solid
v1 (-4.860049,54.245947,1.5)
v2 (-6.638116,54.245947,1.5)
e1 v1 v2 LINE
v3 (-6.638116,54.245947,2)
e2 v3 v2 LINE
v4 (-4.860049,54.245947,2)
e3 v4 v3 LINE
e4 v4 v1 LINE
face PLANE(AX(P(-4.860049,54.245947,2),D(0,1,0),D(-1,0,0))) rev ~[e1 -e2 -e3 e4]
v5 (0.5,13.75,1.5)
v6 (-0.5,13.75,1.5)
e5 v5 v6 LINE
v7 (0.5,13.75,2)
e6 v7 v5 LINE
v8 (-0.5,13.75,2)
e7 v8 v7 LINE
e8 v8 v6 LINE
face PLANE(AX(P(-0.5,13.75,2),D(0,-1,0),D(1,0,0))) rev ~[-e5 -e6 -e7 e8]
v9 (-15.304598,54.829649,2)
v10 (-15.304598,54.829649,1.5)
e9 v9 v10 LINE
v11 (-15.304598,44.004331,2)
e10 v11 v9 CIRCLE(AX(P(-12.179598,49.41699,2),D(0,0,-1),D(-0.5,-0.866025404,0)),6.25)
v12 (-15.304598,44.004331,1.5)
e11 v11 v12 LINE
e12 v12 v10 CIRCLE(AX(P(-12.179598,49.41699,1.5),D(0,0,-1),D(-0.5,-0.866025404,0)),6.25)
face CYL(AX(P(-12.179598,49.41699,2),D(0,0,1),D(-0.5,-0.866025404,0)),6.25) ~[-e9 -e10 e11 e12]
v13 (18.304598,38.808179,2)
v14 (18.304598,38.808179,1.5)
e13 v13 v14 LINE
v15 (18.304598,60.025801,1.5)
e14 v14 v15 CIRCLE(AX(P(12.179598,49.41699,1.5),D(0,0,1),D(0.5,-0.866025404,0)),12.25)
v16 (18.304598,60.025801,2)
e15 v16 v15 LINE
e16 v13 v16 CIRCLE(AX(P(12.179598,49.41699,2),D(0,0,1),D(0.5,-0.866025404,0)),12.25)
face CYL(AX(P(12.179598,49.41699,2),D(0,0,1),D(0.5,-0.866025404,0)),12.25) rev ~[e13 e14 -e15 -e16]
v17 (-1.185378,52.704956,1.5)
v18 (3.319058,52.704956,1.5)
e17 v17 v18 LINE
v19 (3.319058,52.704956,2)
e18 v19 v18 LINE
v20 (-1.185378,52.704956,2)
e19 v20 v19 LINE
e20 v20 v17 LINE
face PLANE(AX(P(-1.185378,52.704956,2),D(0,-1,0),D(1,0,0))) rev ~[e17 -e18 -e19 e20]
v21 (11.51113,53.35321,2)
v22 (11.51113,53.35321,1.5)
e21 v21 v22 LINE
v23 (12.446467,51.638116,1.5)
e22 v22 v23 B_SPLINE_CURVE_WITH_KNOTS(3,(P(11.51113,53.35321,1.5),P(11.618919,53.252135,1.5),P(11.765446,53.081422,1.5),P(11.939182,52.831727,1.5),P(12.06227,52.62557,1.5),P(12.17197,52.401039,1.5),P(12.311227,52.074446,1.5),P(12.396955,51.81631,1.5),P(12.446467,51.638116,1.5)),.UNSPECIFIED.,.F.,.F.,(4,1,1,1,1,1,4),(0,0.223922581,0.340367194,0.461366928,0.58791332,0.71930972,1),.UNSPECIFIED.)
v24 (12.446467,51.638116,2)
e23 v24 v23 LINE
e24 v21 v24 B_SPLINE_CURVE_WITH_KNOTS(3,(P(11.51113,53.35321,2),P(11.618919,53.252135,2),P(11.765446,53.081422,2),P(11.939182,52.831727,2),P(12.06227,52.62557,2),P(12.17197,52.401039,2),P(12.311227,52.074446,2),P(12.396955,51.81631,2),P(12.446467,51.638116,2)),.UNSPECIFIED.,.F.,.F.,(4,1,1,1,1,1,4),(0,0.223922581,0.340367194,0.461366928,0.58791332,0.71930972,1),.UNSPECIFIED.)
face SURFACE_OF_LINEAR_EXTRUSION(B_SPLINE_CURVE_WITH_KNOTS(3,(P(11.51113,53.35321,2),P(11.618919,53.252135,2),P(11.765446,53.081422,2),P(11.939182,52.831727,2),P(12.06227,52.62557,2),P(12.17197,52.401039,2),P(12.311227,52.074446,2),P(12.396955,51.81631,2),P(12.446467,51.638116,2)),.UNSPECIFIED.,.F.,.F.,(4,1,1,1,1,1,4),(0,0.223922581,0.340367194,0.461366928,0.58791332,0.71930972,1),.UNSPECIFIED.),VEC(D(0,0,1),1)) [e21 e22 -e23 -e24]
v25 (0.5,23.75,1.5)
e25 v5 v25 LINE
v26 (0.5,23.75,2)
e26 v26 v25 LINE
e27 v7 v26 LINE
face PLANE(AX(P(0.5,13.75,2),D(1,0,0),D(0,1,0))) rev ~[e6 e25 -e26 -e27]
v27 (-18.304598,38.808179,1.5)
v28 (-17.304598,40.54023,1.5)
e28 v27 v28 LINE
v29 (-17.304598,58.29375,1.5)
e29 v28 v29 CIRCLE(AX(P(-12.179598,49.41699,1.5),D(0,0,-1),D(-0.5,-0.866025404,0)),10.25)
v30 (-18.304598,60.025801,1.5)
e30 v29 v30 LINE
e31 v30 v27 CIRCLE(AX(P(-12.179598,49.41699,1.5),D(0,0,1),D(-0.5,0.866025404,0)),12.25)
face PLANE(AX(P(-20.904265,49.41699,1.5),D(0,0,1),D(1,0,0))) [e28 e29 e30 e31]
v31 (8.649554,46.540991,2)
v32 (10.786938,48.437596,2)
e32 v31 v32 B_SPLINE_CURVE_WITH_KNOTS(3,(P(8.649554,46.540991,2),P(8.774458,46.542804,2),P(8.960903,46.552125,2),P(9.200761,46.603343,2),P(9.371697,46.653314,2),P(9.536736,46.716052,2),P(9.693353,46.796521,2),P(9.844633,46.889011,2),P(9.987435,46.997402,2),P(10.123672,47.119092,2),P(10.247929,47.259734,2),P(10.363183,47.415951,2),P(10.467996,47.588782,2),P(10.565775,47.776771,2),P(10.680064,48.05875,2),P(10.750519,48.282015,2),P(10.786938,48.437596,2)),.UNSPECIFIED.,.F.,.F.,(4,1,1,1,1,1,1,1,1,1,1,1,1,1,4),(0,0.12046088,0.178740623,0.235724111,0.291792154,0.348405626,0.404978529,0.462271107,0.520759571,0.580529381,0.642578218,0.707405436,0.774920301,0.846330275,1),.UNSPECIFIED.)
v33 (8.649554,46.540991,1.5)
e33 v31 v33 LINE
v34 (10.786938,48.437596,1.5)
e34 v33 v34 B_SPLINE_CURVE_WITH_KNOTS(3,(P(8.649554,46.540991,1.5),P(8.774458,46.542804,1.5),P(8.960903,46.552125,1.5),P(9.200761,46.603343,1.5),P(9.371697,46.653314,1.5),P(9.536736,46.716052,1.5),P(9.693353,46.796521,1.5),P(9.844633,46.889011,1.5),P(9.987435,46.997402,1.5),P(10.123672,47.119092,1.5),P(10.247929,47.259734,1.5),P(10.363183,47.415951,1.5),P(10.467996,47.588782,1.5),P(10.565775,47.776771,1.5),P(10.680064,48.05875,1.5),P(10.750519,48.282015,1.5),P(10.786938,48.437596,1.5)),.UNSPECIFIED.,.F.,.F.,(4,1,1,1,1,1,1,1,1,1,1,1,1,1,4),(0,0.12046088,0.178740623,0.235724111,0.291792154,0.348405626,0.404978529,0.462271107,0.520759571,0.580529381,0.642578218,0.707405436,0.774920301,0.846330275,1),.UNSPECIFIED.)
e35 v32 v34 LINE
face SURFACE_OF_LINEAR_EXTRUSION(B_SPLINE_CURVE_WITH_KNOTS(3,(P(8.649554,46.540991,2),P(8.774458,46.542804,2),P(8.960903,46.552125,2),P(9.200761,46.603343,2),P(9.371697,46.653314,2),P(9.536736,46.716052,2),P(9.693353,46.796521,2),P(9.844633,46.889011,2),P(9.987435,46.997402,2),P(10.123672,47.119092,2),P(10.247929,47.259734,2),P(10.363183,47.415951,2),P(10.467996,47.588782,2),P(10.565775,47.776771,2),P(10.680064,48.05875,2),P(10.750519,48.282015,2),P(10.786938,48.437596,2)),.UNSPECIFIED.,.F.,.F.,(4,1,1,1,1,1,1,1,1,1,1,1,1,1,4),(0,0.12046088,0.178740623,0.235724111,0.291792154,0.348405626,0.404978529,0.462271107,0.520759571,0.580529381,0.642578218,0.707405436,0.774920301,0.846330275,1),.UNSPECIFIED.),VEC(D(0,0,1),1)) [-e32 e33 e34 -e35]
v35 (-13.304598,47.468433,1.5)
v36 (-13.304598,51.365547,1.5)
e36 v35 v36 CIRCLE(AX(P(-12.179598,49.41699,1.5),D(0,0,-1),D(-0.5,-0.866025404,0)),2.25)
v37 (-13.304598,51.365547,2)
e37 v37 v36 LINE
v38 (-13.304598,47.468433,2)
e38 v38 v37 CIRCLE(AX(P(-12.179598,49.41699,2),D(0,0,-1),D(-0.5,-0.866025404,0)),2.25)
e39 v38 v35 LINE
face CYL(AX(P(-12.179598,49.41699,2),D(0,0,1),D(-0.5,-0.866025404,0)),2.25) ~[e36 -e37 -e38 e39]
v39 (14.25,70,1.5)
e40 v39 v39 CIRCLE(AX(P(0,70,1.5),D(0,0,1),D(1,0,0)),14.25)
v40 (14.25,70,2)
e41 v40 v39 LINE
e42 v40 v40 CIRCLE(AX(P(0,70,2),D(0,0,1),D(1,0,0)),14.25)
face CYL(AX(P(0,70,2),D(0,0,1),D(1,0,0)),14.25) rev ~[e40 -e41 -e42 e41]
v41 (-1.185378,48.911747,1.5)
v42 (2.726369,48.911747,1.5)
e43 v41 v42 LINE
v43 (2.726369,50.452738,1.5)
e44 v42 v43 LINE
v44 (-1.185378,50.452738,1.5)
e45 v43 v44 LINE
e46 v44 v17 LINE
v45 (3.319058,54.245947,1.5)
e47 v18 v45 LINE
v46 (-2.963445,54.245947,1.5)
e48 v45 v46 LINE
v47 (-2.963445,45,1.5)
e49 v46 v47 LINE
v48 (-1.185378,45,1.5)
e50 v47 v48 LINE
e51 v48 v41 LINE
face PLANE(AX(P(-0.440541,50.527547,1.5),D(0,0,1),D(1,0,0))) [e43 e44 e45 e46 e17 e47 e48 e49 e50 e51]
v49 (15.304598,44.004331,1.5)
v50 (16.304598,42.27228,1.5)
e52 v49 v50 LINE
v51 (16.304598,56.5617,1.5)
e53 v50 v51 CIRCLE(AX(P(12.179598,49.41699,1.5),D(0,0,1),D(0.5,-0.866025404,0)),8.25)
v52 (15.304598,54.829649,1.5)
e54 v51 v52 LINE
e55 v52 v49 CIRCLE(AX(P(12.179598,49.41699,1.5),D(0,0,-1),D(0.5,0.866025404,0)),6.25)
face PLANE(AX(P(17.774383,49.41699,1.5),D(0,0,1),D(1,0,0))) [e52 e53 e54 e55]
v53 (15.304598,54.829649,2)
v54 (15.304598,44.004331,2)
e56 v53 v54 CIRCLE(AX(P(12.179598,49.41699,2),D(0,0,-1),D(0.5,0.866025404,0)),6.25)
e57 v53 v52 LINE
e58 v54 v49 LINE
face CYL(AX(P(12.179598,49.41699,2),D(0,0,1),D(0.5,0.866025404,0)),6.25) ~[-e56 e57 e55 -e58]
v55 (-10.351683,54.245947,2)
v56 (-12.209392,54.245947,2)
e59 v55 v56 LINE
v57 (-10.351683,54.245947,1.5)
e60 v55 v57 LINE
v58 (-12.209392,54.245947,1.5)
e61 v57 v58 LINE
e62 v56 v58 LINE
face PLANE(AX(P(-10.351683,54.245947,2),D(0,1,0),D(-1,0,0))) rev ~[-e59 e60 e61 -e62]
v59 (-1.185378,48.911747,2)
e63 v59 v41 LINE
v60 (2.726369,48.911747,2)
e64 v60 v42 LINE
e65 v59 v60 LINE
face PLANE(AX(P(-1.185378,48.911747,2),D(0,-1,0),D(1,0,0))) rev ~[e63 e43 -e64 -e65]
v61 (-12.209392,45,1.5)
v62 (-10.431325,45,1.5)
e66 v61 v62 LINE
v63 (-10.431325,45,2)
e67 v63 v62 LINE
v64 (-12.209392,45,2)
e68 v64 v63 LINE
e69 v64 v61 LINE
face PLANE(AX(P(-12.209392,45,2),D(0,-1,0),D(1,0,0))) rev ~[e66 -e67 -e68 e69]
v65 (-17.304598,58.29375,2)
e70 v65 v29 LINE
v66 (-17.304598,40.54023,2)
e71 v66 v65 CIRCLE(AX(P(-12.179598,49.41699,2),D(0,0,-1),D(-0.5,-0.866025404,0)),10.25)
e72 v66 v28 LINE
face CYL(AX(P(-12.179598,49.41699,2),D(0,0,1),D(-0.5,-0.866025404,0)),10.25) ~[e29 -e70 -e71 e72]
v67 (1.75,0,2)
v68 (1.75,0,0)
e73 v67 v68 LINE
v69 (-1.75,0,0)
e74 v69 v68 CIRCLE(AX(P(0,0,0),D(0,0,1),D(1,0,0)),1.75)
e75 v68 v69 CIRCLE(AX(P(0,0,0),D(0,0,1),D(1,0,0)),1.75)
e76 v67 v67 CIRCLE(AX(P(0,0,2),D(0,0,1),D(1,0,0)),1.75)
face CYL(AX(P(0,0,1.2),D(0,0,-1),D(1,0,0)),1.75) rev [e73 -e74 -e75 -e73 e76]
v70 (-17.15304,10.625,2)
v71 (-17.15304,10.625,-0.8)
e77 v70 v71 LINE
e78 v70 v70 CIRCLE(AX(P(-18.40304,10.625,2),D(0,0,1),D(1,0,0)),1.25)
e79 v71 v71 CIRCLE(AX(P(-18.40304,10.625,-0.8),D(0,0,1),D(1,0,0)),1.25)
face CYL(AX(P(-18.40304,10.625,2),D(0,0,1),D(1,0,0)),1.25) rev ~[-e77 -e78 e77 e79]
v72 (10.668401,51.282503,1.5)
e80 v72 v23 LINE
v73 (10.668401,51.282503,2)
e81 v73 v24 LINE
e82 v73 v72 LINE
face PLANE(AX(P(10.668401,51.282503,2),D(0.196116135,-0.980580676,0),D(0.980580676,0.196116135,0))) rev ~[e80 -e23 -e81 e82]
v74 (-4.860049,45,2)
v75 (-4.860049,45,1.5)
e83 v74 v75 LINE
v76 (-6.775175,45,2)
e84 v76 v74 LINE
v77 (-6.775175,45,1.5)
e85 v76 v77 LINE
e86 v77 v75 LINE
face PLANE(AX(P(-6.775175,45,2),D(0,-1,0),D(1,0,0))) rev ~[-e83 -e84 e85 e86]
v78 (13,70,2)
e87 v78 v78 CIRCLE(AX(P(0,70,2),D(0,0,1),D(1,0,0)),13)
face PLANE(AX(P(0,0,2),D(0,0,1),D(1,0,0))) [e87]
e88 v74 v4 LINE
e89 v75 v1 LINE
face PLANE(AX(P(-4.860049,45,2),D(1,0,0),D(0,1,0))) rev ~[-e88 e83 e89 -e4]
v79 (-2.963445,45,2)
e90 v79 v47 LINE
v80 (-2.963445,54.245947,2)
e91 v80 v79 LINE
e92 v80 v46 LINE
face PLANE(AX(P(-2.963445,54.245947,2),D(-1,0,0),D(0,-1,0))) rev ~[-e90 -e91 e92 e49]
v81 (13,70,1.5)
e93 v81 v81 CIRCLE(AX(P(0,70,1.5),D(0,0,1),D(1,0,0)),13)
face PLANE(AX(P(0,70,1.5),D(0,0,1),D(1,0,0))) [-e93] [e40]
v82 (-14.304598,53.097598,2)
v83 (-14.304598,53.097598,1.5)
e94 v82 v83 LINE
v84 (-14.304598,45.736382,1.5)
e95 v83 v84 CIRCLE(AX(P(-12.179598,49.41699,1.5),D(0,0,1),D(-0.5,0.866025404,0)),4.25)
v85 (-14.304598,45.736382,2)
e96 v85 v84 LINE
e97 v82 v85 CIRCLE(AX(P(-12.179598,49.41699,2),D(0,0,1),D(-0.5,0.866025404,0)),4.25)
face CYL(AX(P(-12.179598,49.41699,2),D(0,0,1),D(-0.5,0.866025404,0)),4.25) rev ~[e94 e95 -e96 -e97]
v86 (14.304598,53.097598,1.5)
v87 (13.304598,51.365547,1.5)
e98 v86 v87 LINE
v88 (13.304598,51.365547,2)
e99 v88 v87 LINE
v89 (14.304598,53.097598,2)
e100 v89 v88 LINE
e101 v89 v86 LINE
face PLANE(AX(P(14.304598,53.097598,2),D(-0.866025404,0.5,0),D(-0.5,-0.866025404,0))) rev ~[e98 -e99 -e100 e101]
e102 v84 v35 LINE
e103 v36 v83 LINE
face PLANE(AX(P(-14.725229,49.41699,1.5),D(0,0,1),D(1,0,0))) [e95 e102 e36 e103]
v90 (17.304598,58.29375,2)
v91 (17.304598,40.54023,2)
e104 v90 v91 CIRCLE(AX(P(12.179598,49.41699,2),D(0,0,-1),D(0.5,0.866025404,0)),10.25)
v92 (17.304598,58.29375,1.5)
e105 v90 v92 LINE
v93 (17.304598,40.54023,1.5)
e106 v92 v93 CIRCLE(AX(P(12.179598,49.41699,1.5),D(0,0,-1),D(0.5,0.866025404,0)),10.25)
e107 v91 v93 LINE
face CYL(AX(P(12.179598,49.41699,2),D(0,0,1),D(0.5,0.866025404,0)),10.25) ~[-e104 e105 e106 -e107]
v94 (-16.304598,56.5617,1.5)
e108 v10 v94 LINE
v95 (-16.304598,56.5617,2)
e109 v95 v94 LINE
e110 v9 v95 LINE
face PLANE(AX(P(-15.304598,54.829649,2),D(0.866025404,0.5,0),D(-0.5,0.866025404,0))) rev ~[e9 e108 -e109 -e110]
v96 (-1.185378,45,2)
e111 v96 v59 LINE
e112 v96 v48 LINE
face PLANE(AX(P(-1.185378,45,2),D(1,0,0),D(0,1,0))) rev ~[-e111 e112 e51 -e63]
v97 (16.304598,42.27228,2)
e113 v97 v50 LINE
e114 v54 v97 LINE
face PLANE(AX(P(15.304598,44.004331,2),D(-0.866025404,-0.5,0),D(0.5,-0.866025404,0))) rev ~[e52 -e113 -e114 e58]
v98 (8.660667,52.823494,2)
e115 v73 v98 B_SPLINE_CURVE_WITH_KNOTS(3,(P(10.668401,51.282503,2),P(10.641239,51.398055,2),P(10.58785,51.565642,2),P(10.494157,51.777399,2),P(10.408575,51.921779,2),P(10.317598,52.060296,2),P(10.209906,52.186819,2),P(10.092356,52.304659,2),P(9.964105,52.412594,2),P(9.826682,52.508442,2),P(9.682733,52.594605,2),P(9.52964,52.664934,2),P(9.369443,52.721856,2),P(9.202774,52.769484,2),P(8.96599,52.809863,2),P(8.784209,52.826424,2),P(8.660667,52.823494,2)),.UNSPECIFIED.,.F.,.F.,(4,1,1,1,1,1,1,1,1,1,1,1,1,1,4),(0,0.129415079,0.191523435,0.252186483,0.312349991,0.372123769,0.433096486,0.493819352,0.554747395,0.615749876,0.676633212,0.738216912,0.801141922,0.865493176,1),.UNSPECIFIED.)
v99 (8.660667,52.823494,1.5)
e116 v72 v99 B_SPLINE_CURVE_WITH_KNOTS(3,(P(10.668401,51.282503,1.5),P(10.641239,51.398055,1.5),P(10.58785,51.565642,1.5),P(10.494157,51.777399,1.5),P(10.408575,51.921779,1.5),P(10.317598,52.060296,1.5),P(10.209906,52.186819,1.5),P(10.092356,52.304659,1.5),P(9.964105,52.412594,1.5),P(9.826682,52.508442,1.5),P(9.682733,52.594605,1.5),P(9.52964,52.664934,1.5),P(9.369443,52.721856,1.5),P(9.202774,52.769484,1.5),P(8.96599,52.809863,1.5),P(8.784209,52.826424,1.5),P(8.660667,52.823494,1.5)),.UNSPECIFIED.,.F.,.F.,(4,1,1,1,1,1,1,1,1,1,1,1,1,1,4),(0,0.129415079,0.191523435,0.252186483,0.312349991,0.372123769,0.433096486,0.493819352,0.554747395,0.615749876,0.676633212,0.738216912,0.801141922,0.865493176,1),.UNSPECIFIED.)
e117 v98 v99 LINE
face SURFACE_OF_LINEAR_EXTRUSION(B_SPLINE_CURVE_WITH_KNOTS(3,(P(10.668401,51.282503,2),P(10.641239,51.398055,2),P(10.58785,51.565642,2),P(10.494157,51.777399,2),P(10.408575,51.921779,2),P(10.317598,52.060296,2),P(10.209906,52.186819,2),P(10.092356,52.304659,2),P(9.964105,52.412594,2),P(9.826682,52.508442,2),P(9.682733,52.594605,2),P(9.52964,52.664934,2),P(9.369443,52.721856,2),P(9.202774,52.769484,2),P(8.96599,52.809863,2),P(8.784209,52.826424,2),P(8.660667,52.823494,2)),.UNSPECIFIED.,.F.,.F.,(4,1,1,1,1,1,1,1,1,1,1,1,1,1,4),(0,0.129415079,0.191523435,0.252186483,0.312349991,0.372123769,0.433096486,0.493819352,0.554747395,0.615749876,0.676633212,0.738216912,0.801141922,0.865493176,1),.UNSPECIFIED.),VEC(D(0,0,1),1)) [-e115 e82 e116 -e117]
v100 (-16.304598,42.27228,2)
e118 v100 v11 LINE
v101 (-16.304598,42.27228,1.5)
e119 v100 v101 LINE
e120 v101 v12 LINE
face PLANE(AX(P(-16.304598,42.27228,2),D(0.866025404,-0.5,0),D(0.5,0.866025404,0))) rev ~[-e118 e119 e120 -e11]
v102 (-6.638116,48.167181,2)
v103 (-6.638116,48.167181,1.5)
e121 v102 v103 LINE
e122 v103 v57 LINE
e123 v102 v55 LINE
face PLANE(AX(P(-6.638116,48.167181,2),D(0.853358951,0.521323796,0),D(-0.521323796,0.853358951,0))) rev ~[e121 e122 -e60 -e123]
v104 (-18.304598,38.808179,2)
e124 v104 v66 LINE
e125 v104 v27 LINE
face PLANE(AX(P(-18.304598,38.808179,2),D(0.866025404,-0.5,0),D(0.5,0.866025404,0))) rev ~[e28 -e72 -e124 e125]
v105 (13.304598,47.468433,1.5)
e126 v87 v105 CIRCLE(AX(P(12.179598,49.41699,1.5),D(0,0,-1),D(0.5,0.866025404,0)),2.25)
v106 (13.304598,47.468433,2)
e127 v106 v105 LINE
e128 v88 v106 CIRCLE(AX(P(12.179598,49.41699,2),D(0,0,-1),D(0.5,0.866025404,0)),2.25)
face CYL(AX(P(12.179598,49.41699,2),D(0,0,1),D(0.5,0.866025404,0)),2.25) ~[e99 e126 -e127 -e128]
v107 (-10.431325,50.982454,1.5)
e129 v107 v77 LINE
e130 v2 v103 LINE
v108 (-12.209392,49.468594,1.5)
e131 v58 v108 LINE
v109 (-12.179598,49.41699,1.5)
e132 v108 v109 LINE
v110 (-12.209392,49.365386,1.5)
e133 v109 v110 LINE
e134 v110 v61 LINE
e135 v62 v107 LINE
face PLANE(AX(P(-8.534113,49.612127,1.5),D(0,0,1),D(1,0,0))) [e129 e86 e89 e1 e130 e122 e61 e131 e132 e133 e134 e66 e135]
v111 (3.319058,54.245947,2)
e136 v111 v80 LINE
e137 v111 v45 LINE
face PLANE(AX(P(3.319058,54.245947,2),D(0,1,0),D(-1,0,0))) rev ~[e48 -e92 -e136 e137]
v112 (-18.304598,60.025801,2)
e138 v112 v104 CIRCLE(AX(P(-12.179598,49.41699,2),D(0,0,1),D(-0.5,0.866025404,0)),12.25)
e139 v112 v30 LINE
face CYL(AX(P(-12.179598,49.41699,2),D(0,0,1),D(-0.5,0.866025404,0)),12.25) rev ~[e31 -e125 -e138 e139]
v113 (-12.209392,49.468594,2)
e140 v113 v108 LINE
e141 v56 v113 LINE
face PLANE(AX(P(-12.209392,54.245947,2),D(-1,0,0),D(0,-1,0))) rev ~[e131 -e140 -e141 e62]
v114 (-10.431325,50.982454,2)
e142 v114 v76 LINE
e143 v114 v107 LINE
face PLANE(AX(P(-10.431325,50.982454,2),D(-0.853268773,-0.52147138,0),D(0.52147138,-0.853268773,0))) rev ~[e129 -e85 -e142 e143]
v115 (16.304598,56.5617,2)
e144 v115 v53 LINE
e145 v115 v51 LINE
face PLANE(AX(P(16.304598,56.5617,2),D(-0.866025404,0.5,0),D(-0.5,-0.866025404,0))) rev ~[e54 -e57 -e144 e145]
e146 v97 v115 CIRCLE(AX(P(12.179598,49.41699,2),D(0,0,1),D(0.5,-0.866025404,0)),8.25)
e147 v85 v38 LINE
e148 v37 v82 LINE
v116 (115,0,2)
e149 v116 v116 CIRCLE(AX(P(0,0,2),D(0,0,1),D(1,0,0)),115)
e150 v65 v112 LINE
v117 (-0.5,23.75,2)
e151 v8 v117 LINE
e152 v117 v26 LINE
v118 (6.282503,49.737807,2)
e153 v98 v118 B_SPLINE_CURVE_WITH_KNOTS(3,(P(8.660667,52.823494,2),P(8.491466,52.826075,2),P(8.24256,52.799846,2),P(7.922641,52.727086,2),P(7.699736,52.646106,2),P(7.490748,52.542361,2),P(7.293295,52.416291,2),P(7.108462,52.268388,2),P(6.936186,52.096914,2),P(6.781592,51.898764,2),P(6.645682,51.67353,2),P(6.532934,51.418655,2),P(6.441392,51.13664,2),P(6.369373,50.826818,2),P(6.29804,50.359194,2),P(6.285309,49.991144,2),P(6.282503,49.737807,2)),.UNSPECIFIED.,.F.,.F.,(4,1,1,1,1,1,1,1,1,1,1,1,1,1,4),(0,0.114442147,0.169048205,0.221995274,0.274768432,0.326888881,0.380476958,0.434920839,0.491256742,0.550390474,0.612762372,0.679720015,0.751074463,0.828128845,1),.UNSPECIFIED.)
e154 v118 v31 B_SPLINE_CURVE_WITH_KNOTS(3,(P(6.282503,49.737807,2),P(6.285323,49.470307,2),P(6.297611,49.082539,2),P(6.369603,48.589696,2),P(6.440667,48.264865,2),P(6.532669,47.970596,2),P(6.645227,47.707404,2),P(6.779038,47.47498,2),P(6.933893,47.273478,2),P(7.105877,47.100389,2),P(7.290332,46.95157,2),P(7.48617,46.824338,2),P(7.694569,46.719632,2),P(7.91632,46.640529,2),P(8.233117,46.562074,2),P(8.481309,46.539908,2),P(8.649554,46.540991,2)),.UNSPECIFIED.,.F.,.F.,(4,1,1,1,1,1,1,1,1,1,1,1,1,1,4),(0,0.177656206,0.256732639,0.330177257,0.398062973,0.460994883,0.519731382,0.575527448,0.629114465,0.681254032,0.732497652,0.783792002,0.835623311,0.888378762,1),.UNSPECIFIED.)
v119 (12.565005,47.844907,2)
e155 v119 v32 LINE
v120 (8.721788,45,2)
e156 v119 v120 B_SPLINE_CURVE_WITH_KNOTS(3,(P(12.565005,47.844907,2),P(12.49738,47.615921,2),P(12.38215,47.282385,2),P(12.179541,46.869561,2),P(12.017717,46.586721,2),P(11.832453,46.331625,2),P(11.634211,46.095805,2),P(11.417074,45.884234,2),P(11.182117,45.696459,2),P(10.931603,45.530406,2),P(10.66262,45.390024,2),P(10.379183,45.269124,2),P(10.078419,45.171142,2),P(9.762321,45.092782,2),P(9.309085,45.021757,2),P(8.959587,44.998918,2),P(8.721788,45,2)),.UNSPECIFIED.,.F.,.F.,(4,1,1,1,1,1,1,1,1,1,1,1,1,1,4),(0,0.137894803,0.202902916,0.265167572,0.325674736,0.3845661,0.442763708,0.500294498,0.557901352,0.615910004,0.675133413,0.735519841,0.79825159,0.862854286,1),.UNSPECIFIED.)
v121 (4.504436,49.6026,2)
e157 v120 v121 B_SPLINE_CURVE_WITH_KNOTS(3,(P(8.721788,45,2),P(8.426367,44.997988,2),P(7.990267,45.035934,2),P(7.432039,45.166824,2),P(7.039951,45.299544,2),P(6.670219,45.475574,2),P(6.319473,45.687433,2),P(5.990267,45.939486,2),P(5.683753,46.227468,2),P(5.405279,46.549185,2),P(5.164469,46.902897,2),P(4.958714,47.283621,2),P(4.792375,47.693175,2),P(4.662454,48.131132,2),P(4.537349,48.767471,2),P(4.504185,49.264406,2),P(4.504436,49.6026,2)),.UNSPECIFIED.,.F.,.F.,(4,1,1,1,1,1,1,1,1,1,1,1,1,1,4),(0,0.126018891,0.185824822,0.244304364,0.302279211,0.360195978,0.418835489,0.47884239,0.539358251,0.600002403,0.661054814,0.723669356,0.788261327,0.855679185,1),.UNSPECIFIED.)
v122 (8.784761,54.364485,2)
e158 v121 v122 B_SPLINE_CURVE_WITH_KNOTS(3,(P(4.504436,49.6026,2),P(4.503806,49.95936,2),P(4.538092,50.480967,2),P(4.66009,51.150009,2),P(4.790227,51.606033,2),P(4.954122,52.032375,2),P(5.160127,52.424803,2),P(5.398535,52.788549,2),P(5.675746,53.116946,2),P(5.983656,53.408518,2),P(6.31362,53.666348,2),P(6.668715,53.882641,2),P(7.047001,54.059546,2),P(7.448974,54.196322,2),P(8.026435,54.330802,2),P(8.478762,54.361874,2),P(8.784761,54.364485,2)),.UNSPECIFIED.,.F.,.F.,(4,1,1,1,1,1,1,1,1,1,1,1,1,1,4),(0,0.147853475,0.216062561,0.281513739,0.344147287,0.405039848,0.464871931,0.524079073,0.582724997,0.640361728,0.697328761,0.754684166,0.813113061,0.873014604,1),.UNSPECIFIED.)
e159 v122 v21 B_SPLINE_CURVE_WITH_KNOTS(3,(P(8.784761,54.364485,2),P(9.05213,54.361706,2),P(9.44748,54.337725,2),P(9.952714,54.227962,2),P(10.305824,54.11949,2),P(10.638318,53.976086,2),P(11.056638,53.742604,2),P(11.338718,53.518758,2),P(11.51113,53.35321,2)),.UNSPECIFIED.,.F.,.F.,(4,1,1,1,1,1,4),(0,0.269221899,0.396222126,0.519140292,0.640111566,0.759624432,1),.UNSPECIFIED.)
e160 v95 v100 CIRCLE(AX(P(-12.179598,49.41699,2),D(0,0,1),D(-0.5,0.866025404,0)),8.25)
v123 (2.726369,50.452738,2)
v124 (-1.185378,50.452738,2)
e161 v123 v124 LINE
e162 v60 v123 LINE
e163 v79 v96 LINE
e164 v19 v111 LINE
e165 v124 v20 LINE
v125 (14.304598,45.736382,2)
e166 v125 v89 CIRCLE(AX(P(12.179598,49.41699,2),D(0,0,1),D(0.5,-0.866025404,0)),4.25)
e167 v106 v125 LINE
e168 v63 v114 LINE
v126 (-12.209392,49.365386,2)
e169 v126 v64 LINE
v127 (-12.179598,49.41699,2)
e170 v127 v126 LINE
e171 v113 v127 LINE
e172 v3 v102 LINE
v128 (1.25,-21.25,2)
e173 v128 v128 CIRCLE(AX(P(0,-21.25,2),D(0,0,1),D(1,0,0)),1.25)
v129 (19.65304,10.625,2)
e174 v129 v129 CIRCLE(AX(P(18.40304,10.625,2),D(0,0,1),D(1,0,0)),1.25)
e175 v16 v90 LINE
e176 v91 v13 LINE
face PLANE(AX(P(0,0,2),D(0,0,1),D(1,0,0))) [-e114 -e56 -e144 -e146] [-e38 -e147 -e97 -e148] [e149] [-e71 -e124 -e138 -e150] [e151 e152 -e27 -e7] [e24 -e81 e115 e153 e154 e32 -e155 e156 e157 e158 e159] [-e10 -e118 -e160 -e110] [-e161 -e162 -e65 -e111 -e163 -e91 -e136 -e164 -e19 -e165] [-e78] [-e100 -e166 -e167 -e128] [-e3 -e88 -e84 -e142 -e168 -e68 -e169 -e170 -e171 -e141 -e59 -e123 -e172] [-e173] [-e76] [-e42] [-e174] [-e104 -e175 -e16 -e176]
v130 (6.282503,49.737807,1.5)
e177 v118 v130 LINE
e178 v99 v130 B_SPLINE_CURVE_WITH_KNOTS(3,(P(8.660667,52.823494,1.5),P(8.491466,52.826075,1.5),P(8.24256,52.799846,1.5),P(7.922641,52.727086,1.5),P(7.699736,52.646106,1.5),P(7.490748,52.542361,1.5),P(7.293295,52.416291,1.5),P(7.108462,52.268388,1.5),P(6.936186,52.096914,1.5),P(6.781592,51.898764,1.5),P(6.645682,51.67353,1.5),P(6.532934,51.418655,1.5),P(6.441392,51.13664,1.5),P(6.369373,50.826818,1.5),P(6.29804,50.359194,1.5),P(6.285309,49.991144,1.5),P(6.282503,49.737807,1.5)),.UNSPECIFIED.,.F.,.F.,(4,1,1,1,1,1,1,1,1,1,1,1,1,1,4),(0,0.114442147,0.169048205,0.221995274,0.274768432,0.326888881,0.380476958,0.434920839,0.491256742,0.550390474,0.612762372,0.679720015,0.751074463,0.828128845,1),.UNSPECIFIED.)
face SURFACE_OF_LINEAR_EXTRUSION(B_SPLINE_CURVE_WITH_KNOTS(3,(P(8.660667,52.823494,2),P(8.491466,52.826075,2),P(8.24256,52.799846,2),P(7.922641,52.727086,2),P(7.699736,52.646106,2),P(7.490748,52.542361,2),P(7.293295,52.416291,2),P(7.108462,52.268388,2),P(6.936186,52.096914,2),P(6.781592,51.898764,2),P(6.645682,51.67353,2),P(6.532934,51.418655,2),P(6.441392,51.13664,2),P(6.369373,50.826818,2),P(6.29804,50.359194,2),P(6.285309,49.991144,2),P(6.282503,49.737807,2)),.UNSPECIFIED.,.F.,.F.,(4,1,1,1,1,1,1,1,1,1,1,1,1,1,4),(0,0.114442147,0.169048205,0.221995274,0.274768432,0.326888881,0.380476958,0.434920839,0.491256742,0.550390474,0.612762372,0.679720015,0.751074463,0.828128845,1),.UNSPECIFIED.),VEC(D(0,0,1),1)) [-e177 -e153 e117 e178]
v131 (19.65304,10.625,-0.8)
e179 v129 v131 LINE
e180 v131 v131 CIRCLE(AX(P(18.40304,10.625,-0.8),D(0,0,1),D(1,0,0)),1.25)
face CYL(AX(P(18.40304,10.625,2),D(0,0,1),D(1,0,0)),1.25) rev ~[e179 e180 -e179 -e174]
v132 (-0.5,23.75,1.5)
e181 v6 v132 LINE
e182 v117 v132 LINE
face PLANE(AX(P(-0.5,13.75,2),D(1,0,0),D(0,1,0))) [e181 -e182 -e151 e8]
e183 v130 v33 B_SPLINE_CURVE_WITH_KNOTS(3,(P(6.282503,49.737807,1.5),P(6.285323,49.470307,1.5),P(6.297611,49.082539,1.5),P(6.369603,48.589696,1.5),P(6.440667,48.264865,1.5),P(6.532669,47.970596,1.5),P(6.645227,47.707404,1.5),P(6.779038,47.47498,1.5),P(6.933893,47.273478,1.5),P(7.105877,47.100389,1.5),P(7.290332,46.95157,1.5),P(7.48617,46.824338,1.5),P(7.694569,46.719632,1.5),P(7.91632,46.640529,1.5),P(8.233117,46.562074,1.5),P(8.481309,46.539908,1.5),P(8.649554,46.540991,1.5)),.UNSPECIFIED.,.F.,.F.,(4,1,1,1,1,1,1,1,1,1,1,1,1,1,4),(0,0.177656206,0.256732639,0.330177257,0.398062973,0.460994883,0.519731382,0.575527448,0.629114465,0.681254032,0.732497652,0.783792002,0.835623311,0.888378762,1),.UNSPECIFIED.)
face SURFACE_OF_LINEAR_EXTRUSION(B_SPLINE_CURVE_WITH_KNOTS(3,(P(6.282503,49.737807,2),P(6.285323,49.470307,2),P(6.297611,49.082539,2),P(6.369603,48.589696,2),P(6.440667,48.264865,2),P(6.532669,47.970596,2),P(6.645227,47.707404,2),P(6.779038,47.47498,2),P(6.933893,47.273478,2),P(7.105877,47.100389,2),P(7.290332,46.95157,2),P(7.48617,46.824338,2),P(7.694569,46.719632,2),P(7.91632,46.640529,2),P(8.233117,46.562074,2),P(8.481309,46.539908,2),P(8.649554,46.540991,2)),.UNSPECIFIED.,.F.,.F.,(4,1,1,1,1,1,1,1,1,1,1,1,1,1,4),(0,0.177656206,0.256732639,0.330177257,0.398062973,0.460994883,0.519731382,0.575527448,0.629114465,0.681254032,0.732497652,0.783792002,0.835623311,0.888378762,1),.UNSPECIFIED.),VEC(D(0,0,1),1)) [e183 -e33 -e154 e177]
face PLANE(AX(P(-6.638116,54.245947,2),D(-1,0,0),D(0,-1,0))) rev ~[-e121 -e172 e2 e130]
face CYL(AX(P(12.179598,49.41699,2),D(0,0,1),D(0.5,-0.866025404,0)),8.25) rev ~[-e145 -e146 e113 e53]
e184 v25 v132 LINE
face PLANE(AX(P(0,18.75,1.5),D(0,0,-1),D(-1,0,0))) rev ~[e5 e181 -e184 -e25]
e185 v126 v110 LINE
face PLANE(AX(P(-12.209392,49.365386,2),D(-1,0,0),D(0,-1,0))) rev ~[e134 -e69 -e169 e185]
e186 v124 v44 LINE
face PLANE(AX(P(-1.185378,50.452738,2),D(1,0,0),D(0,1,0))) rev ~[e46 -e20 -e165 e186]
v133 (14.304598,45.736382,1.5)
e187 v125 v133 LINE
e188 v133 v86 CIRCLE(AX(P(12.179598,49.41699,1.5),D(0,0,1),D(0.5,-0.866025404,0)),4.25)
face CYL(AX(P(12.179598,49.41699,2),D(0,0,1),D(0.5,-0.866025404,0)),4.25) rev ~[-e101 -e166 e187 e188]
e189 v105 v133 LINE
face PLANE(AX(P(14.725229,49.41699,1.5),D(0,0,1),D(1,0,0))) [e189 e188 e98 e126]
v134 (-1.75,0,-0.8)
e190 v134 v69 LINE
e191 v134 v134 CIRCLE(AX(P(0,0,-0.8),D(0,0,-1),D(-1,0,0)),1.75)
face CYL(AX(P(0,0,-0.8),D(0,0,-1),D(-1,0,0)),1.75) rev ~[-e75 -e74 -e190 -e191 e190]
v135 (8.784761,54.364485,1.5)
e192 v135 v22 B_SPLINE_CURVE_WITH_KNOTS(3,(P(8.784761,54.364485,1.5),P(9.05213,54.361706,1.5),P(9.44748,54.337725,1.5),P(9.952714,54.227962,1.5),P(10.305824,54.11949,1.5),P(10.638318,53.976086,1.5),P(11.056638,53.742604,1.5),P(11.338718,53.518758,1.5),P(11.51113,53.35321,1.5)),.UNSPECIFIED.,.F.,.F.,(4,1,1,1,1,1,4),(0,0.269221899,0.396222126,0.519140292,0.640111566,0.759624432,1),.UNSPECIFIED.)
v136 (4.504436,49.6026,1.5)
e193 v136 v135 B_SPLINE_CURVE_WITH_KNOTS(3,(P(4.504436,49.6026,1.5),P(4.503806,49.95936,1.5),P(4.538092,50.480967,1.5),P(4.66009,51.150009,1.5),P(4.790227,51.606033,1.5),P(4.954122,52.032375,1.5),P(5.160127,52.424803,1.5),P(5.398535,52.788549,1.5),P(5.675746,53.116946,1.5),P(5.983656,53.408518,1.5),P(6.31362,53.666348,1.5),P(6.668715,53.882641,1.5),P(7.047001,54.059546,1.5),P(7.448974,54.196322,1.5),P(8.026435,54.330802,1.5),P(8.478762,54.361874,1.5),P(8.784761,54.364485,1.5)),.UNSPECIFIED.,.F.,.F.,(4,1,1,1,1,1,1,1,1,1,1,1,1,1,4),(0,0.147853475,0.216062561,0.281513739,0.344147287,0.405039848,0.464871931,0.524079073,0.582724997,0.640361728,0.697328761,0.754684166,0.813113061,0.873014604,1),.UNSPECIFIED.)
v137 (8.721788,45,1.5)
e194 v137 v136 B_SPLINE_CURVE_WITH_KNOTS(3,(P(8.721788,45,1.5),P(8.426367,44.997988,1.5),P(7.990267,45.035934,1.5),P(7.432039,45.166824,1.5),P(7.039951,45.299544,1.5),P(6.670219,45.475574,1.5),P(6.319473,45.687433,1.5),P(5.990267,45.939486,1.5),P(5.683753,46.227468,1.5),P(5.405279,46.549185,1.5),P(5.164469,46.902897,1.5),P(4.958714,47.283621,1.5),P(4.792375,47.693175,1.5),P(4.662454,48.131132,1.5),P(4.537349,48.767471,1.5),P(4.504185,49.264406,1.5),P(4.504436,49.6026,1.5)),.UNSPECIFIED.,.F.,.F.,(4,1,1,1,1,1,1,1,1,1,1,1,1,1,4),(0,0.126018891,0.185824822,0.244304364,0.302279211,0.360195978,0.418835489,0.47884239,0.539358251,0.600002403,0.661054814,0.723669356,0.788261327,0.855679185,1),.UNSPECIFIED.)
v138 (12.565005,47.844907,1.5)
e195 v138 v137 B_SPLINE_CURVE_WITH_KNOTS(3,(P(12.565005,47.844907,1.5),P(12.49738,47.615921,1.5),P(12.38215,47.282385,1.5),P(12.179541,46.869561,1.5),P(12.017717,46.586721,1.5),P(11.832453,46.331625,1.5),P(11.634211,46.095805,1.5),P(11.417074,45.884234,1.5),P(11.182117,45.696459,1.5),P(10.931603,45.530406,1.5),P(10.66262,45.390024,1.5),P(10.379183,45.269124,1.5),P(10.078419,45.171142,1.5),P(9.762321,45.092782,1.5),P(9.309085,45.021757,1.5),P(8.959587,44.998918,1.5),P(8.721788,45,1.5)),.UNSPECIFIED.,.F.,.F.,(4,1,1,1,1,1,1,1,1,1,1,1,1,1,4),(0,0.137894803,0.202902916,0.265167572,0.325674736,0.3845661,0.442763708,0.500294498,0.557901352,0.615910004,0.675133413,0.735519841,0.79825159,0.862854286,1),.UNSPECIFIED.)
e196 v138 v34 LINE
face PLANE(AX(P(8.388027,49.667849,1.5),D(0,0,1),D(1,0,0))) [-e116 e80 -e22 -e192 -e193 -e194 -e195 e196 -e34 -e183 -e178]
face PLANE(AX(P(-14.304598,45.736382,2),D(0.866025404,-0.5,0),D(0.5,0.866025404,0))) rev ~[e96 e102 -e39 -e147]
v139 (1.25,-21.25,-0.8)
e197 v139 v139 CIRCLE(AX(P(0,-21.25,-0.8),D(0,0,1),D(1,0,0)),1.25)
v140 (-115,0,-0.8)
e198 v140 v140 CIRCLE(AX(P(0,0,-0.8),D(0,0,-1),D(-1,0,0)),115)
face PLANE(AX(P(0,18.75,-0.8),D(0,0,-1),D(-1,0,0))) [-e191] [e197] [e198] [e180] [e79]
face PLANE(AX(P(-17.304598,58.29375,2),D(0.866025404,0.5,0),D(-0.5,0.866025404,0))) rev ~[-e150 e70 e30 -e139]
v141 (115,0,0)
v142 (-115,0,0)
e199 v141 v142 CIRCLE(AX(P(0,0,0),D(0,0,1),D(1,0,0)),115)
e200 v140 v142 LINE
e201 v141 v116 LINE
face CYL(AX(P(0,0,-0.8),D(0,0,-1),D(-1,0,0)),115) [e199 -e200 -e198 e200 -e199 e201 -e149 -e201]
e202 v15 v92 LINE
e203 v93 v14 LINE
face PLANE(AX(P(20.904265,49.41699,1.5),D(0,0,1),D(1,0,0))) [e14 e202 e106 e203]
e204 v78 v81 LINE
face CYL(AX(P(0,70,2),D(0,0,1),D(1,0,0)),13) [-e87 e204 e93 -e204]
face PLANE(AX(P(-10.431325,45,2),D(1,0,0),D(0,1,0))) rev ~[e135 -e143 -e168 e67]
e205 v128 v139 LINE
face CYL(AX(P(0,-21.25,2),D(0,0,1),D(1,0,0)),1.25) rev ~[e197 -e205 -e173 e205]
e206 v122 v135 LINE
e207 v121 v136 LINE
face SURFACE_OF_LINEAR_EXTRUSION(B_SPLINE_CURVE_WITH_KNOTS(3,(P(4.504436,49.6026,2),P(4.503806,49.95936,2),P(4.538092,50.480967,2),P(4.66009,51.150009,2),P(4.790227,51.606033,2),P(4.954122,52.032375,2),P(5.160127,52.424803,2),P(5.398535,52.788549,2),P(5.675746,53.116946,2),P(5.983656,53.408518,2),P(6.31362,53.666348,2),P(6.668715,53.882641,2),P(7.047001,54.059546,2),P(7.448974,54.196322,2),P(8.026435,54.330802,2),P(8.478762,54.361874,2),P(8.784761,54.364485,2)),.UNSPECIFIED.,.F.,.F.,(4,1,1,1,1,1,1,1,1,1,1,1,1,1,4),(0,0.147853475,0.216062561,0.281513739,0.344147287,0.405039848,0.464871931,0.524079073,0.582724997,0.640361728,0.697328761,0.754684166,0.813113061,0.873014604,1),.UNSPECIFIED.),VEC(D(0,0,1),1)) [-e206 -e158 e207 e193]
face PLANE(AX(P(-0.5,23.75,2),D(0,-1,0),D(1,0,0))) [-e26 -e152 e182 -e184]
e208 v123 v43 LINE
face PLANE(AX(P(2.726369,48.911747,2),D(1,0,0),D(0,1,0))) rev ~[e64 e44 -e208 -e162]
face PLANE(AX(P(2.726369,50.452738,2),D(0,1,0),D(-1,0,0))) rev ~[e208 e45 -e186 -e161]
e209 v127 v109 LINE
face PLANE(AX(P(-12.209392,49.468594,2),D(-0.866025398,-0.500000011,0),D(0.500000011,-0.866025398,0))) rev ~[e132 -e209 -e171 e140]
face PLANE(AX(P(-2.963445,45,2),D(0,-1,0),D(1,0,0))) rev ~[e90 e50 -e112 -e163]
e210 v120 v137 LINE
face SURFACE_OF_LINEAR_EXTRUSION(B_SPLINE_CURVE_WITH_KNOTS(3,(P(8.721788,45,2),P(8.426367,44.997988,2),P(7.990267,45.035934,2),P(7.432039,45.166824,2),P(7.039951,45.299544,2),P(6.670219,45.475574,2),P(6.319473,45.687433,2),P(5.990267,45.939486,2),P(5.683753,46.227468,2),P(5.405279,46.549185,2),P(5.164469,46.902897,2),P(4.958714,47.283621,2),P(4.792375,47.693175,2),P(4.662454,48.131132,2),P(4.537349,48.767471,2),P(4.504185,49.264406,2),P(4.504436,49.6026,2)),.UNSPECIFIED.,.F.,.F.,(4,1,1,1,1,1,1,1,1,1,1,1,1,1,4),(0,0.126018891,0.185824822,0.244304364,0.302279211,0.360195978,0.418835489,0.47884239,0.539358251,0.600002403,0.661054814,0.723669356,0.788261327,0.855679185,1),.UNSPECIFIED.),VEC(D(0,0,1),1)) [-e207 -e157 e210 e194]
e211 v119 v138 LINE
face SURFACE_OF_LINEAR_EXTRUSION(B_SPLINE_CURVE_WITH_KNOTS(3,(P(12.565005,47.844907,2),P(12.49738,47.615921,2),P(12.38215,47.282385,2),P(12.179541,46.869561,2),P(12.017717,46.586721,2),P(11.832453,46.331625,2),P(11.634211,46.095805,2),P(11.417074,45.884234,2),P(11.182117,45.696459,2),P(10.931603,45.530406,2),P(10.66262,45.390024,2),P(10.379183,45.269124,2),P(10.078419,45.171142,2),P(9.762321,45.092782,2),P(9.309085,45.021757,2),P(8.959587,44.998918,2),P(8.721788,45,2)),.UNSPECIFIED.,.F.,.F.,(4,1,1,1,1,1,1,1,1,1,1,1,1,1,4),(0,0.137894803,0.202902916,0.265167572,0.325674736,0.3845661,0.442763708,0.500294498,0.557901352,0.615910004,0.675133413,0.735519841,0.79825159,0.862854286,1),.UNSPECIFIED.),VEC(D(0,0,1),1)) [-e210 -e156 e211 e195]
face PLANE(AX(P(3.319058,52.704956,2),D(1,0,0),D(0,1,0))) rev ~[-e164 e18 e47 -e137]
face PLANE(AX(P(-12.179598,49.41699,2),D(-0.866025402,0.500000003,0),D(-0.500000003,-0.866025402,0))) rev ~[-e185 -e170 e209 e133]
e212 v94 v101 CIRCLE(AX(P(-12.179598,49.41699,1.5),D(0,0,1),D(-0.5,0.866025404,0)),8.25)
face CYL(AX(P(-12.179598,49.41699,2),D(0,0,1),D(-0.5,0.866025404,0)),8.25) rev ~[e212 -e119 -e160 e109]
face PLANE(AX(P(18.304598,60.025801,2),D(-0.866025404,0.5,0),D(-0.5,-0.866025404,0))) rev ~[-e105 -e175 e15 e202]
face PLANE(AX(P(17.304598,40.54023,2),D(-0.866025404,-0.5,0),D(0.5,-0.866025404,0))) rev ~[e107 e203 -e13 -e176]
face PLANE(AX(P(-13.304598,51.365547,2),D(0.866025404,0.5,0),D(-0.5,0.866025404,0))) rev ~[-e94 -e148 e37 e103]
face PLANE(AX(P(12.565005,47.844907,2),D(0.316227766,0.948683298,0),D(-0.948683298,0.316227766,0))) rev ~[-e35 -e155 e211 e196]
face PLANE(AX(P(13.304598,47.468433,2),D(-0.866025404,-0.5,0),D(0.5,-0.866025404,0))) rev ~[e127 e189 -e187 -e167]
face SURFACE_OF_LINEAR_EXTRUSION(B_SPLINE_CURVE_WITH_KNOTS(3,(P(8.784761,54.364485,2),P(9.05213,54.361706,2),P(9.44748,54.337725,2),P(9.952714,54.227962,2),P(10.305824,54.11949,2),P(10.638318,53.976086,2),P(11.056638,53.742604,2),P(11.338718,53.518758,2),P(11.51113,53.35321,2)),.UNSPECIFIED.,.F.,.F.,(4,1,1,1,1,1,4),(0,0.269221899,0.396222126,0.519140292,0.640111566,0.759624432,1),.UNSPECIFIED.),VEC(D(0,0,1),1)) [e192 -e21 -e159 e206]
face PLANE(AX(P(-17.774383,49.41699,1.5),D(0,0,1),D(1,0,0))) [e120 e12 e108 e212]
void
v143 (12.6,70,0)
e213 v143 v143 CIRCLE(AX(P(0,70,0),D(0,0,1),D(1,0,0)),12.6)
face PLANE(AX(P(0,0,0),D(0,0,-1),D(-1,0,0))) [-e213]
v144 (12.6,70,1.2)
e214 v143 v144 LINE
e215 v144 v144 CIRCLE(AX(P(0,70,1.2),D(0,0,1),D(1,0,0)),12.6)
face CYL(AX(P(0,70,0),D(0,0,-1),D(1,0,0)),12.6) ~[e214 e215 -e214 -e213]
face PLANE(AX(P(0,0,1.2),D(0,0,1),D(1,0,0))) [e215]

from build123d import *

# Parameters (mm, degrees)
SKETCH1_R           = 115
SKETCH1_R_2         = 12.6
SKETCH1_R_3         = 1.75
BOSS_EXTRUDE1_DEPTH = 1.2
SKETCH2_R           = 115
SKETCH2_R_2         = 1.75
BOSS_EXTRUDE2_DEPTH = 0.8
SKETCH3_R           = 14.25
SKETCH3_R_2         = 13
CUT_EXTRUDE1_DEPTH  = 0.5
BOSS_EXTRUDE3_START = 0.8
SKETCH4_R           = 115
SKETCH4_R_2         = 1.75
BOSS_EXTRUDE3_DEPTH = 0.8
SKETCH5_R           = 1.25
SKETCH5_W           = 1
SKETCH5_H           = 10
CUT_EXTRUDE2_DEPTH  = 2.8
SKETCH6_W           = 1
SKETCH6_H           = 10
BOSS_EXTRUDE4_DEPTH = 2.3


with BuildPart() as part:
    # Sketch1 → Boss-Extrude1 (new body)
    with BuildSketch(Plane.XY):
        Circle(SKETCH1_R)
        with Locations((0, 70)):
            Circle(SKETCH1_R_2, mode=Mode.SUBTRACT)
        Circle(SKETCH1_R_3, mode=Mode.SUBTRACT)
    extrude(amount=BOSS_EXTRUDE1_DEPTH)

    # Sketch2 → Boss-Extrude2 (add)
    with BuildSketch(Plane.XY.offset(1.2)):
        Circle(SKETCH2_R)
        Circle(SKETCH2_R_2, mode=Mode.SUBTRACT)
    extrude(amount=BOSS_EXTRUDE2_DEPTH)

    # Sketch3 → Cut-Extrude1 (cut)
    # profile 1 of 10: a face of its own
    with BuildSketch(Plane.XY.offset(2)):
        with BuildLine():
            Line((-14.304598289, 45.736382), (-13.304598289, 47.468432807))
            ThreePointArc((-13.304598289, 47.468432807), (-14.429598289, 49.416989966), (-13.304598289, 51.365547124))
            Line((-13.304598289, 51.365547124), (-14.304598289, 53.097597932))
            ThreePointArc((-14.304598289, 53.097597932), (-16.429598289, 49.416989966), (-14.304598289, 45.736382))
        make_face()
    # profile 2 of 10: a face of its own
    with BuildSketch(Plane.XY.offset(2)):
        Polygon((-12.179598289, 49.416989966), (-12.209391902, 49.365385915), (-12.209391902, 45), (-10.43132512, 45), (-10.43132512, 50.98245386), (-6.7751753, 45), (-4.860049204, 45), (-4.860049204, 54.245947266), (-6.638115986, 54.245947266), (-6.638115986, 48.167181455), (-10.351682546, 54.245947266), (-12.209391902, 54.245947266), (-12.209391902, 49.468594016), align=None)
    # profile 3 of 10: a face of its own
    with BuildSketch(Plane.XY.offset(2)):
        with BuildLine():
            Line((-16.304598289, 42.272280384), (-15.304598289, 44.004331192))
            ThreePointArc((-15.304598289, 44.004331192), (-18.429598289, 49.416989966), (-15.304598289, 54.829648739))
            Line((-15.304598289, 54.829648739), (-16.304598289, 56.561699547))
            ThreePointArc((-16.304598289, 56.561699547), (-20.429598289, 49.416989966), (-16.304598289, 42.272280384))
        make_face()
    # profile 4 of 10: a face of its own
    with BuildSketch(Plane.XY.offset(2)):
        with BuildLine():
            Line((-18.304598289, 38.808178769), (-17.304598289, 40.540229577))
            ThreePointArc((-17.304598289, 40.540229577), (-22.429598289, 49.416989966), (-17.304598289, 58.293750354))
            Line((-17.304598289, 58.293750354), (-18.304598289, 60.025801162))
            ThreePointArc((-18.304598289, 60.025801162), (-24.429598289, 49.416989966), (-18.304598289, 38.808178769))
        make_face()
    # profile 5 of 10: a face of its own
    with BuildSketch(Plane.XY.offset(2)):
        with BuildLine():
            ThreePointArc((13.304598289, 51.365547124), (14.429598289, 49.416989966), (13.304598289, 47.468432807))
            Line((13.304598289, 47.468432807), (14.304598289, 45.736382))
            ThreePointArc((14.304598289, 45.736382), (16.429598289, 49.416989966), (14.304598289, 53.097597932))
            Line((14.304598289, 53.097597932), (13.304598289, 51.365547124))
        make_face()
    # profile 6 of 10: a face of its own
    with BuildSketch(Plane.XY.offset(2)):
        with BuildLine():
            ThreePointArc((15.304598289, 54.829648739), (18.429598289, 49.416989966), (15.304598289, 44.004331192))
            Line((15.304598289, 44.004331192), (16.304598289, 42.272280384))
            ThreePointArc((16.304598289, 42.272280384), (20.429598289, 49.416989966), (16.304598289, 56.561699547))
            Line((16.304598289, 56.561699547), (15.304598289, 54.829648739))
        make_face()
    # profile 7 of 10: a face of its own
    with BuildSketch(Plane.XY.offset(2)):
        with BuildLine():
            ThreePointArc((17.304598289, 58.293750354), (22.429598289, 49.416989966), (17.304598289, 40.540229577))
            Line((17.304598289, 40.540229577), (18.304598289, 38.808178769))
            ThreePointArc((18.304598289, 38.808178769), (24.429598289, 49.416989966), (18.304598289, 60.025801162))
            Line((18.304598289, 60.025801162), (17.304598289, 58.293750354))
        make_face()
    # profile 8 of 10: a face of its own
    with BuildSketch(Plane.XY.offset(2)):
        Polygon((-2.963444636, 54.245947266), (-2.963444636, 45), (-1.185377855, 45), (-1.185377855, 48.91174692), (2.726369066, 48.91174692), (2.726369066, 50.452738131), (-1.185377855, 50.452738131), (-1.185377855, 52.704956055), (3.319057993, 52.704956055), (3.319057993, 54.245947266), align=None)
    # profile 9 of 10: a face of its own
    with BuildSketch(Plane.XY.offset(2)):
        with BuildLine():
            Line((12.565005258, 47.844906851), (10.786938477, 48.437595778))
            add(Edge.make_bspline(
                [(8.649554033, 46.540991211), (8.774457906, 46.542804078), (8.960902987, 46.552124821), (9.200761468, 46.603342992), (9.371697205, 46.653314203), (9.536735909, 46.716051803), (9.693353441, 46.796521205), (9.844632955, 46.889011376), (9.987435142, 46.997402051), (10.123671935, 47.119091548), (10.24792915, 47.259733892), (10.363183369, 47.415951417), (10.467995906, 47.588781763), (10.565774579, 47.776770817), (10.680063587, 48.058750047), (10.75051939, 48.282015418), (10.786938477, 48.437595778)],
                knots=[0, 0, 0, 0, 0.12046088, 0.178740623, 0.235724111, 0.291792154, 0.348405626, 0.404978529, 0.462271107, 0.520759571, 0.580529381, 0.642578218, 0.707405436, 0.774920301, 0.846330275, 1, 1, 1, 1], degree=3))
            add(Edge.make_bspline(
                [(6.282502629, 49.737807112), (6.285322977, 49.470306981), (6.297610529, 49.082539498), (6.369602887, 48.589695915), (6.440666935, 48.264864831), (6.532669328, 47.970595781), (6.645226739, 47.70740396), (6.779038197, 47.474979778), (6.933893175, 47.273478116), (7.10587723, 47.100389393), (7.290332212, 46.951570368), (7.486169728, 46.82433845), (7.694568912, 46.719631559), (7.916319835, 46.640528882), (8.233117363, 46.562073655), (8.481308806, 46.539908407), (8.649554033, 46.540991211)],
                knots=[0, 0, 0, 0, 0.177656206, 0.256732639, 0.330177257, 0.398062973, 0.460994883, 0.519731382, 0.575527448, 0.629114465, 0.681254032, 0.732497652, 0.783792002, 0.835623311, 0.888378762, 1, 1, 1, 1], degree=3))
            add(Edge.make_bspline(
                [(8.66066695, 52.82349384), (8.491465901, 52.826075047), (8.242559674, 52.799846285), (7.922640611, 52.727085572), (7.699736188, 52.646106315), (7.49074803, 52.54236084), (7.293294797, 52.416290582), (7.108461861, 52.268387934), (6.93618627, 52.096913588), (6.781592493, 51.898763678), (6.645681991, 51.673529995), (6.532934048, 51.418655469), (6.441392441, 51.136639915), (6.369372519, 50.826818405), (6.298040133, 50.35919413), (6.285308784, 49.991144174), (6.282502629, 49.737807112)],
                knots=[0, 0, 0, 0, 0.114442147, 0.169048205, 0.221995274, 0.274768432, 0.326888881, 0.380476958, 0.434920839, 0.491256742, 0.550390474, 0.612762372, 0.679720015, 0.751074463, 0.828128845, 1, 1, 1, 1], degree=3))
            add(Edge.make_bspline(
                [(10.668400691, 51.282502629), (10.641238914, 51.398054972), (10.587850378, 51.565642196), (10.494156792, 51.777398501), (10.408574753, 51.921779276), (10.317598271, 52.060296222), (10.209906332, 52.186819303), (10.09235562, 52.304658865), (9.964105005, 52.412593655), (9.82668186, 52.508441667), (9.682732574, 52.594604872), (9.529640338, 52.664934387), (9.369443041, 52.721855687), (9.202773529, 52.769483738), (8.965989688, 52.809862605), (8.784209014, 52.826424315), (8.66066695, 52.82349384)],
                knots=[0, 0, 0, 0, 0.129415079, 0.191523435, 0.252186483, 0.312349991, 0.372123769, 0.433096486, 0.493819352, 0.554747395, 0.615749876, 0.676633212, 0.738216912, 0.801141922, 0.865493176, 1, 1, 1, 1], degree=3))
            Line((10.668400691, 51.282502629), (12.446467473, 51.638115986))
            add(Edge.make_bspline(
                [(11.51113026, 53.353209569), (11.618919371, 53.252134624), (11.765446177, 53.081421549), (11.939181695, 52.831726814), (12.062269606, 52.625570238), (12.171970389, 52.4010392), (12.311226739, 52.074446139), (12.396954988, 51.816309851), (12.446467473, 51.638115986)],
                knots=[0, 0, 0, 0, 0.223922581, 0.340367194, 0.461366928, 0.58791332, 0.71930972, 1, 1, 1, 1], degree=3))
            add(Edge.make_bspline(
                [(8.784761194, 54.364485051), (9.05213035, 54.36170592), (9.447480124, 54.337725331), (9.952714034, 54.227961891), (10.305824473, 54.11948993), (10.638318496, 53.976085526), (11.056637945, 53.742604246), (11.338718425, 53.518758054), (11.51113026, 53.353209569)],
                knots=[0, 0, 0, 0, 0.269221899, 0.396222126, 0.519140292, 0.640111566, 0.759624432, 1, 1, 1, 1], degree=3))
            add(Edge.make_bspline(
                [(4.504435847, 49.602599951), (4.503806189, 49.95935967), (4.53809244, 50.480966902), (4.660090028, 51.150009144), (4.790227099, 51.606032572), (4.954122369, 52.032375199), (5.160126736, 52.424803313), (5.398535284, 52.788549361), (5.675745533, 53.116946458), (5.983655723, 53.408518035), (6.31361956, 53.666348484), (6.66871472, 53.882641187), (7.047001045, 54.059546034), (7.448974215, 54.196322464), (8.026435231, 54.330802367), (8.478762466, 54.361874395), (8.784761194, 54.364485051)],
                knots=[0, 0, 0, 0, 0.147853475, 0.216062561, 0.281513739, 0.344147287, 0.405039848, 0.464871931, 0.524079073, 0.582724997, 0.640361728, 0.697328761, 0.754684166, 0.813113061, 0.873014604, 1, 1, 1, 1], degree=3))
            add(Edge.make_bspline(
                [(8.721787996, 45), (8.426367251, 44.997988178), (7.990266773, 45.035933953), (7.432039385, 45.166823587), (7.03995053, 45.29954369), (6.670218657, 45.47557439), (6.319473407, 45.687433116), (5.990266678, 45.939486093), (5.683753354, 46.22746781), (5.405279268, 46.5491846), (5.164468655, 46.902896762), (4.958714021, 47.283621418), (4.792375452, 47.693174913), (4.662454179, 48.131132452), (4.537348729, 48.767470915), (4.504184947, 49.264405834), (4.504435847, 49.602599951)],
                knots=[0, 0, 0, 0, 0.126018891, 0.185824822, 0.244304364, 0.302279211, 0.360195978, 0.418835489, 0.47884239, 0.539358251, 0.600002403, 0.661054814, 0.723669356, 0.788261327, 0.855679185, 1, 1, 1, 1], degree=3))
            add(Edge.make_bspline(
                [(12.565005258, 47.844906851), (12.497380357, 47.615920501), (12.382150303, 47.28238474), (12.179541249, 46.869560595), (12.017716763, 46.586721298), (11.832453107, 46.331624647), (11.634211253, 46.095805011), (11.41707355, 45.884234212), (11.182117383, 45.696459001), (10.931602763, 45.530405863), (10.662620144, 45.390024222), (10.379183478, 45.269124387), (10.078419057, 45.171142401), (9.76232112, 45.0927817), (9.309084503, 45.021757353), (8.959586718, 44.99891792), (8.721787996, 45)],
                knots=[0, 0, 0, 0, 0.137894803, 0.202902916, 0.265167572, 0.325674736, 0.3845661, 0.442763708, 0.500294498, 0.557901352, 0.615910004, 0.675133413, 0.735519841, 0.79825159, 0.862854286, 1, 1, 1, 1], degree=3))
        make_face()
    # profile 10 of 10: a face of its own
    with BuildSketch(Plane.XY.offset(2)):
        with Locations((0, 70)):
            Circle(SKETCH3_R)
        with Locations((0, 70)):
            Circle(SKETCH3_R_2, mode=Mode.SUBTRACT)
    extrude(amount=-CUT_EXTRUDE1_DEPTH, mode=Mode.SUBTRACT)

    # Sketch4 → Boss-Extrude3 (add)
    with BuildSketch(Plane(origin=(0, 0, 0), x_dir=(-1, 0, 0), z_dir=(0, 0, -1)).offset(BOSS_EXTRUDE3_START)):
        Circle(SKETCH4_R)
        Circle(SKETCH4_R_2, mode=Mode.SUBTRACT)
    extrude(amount=-BOSS_EXTRUDE3_DEPTH)

    # Sketch5 → Cut-Extrude2 (cut)
    with BuildSketch(Plane.XY.offset(2)):
        with Locations((0, -21.25)):
            Circle(SKETCH5_R)
        with Locations((-18.40303983, 10.625)):
            Circle(SKETCH5_R)
        with Locations((18.40303983, 10.625)):
            Circle(SKETCH5_R)
        with Locations((0, 18.75)):
            Rectangle(SKETCH5_W, SKETCH5_H)
    extrude(amount=-CUT_EXTRUDE2_DEPTH, mode=Mode.SUBTRACT)

    # Sketch6 → Boss-Extrude4 (add)
    with BuildSketch(Plane(origin=(0, 0, -0.8), x_dir=(-1, 0, 0), z_dir=(0, 0, -1))):
        with Locations((0, 18.75)):
            Rectangle(SKETCH6_W, SKETCH6_H)
    extrude(amount=-BOSS_EXTRUDE4_DEPTH)


solid = part.part
